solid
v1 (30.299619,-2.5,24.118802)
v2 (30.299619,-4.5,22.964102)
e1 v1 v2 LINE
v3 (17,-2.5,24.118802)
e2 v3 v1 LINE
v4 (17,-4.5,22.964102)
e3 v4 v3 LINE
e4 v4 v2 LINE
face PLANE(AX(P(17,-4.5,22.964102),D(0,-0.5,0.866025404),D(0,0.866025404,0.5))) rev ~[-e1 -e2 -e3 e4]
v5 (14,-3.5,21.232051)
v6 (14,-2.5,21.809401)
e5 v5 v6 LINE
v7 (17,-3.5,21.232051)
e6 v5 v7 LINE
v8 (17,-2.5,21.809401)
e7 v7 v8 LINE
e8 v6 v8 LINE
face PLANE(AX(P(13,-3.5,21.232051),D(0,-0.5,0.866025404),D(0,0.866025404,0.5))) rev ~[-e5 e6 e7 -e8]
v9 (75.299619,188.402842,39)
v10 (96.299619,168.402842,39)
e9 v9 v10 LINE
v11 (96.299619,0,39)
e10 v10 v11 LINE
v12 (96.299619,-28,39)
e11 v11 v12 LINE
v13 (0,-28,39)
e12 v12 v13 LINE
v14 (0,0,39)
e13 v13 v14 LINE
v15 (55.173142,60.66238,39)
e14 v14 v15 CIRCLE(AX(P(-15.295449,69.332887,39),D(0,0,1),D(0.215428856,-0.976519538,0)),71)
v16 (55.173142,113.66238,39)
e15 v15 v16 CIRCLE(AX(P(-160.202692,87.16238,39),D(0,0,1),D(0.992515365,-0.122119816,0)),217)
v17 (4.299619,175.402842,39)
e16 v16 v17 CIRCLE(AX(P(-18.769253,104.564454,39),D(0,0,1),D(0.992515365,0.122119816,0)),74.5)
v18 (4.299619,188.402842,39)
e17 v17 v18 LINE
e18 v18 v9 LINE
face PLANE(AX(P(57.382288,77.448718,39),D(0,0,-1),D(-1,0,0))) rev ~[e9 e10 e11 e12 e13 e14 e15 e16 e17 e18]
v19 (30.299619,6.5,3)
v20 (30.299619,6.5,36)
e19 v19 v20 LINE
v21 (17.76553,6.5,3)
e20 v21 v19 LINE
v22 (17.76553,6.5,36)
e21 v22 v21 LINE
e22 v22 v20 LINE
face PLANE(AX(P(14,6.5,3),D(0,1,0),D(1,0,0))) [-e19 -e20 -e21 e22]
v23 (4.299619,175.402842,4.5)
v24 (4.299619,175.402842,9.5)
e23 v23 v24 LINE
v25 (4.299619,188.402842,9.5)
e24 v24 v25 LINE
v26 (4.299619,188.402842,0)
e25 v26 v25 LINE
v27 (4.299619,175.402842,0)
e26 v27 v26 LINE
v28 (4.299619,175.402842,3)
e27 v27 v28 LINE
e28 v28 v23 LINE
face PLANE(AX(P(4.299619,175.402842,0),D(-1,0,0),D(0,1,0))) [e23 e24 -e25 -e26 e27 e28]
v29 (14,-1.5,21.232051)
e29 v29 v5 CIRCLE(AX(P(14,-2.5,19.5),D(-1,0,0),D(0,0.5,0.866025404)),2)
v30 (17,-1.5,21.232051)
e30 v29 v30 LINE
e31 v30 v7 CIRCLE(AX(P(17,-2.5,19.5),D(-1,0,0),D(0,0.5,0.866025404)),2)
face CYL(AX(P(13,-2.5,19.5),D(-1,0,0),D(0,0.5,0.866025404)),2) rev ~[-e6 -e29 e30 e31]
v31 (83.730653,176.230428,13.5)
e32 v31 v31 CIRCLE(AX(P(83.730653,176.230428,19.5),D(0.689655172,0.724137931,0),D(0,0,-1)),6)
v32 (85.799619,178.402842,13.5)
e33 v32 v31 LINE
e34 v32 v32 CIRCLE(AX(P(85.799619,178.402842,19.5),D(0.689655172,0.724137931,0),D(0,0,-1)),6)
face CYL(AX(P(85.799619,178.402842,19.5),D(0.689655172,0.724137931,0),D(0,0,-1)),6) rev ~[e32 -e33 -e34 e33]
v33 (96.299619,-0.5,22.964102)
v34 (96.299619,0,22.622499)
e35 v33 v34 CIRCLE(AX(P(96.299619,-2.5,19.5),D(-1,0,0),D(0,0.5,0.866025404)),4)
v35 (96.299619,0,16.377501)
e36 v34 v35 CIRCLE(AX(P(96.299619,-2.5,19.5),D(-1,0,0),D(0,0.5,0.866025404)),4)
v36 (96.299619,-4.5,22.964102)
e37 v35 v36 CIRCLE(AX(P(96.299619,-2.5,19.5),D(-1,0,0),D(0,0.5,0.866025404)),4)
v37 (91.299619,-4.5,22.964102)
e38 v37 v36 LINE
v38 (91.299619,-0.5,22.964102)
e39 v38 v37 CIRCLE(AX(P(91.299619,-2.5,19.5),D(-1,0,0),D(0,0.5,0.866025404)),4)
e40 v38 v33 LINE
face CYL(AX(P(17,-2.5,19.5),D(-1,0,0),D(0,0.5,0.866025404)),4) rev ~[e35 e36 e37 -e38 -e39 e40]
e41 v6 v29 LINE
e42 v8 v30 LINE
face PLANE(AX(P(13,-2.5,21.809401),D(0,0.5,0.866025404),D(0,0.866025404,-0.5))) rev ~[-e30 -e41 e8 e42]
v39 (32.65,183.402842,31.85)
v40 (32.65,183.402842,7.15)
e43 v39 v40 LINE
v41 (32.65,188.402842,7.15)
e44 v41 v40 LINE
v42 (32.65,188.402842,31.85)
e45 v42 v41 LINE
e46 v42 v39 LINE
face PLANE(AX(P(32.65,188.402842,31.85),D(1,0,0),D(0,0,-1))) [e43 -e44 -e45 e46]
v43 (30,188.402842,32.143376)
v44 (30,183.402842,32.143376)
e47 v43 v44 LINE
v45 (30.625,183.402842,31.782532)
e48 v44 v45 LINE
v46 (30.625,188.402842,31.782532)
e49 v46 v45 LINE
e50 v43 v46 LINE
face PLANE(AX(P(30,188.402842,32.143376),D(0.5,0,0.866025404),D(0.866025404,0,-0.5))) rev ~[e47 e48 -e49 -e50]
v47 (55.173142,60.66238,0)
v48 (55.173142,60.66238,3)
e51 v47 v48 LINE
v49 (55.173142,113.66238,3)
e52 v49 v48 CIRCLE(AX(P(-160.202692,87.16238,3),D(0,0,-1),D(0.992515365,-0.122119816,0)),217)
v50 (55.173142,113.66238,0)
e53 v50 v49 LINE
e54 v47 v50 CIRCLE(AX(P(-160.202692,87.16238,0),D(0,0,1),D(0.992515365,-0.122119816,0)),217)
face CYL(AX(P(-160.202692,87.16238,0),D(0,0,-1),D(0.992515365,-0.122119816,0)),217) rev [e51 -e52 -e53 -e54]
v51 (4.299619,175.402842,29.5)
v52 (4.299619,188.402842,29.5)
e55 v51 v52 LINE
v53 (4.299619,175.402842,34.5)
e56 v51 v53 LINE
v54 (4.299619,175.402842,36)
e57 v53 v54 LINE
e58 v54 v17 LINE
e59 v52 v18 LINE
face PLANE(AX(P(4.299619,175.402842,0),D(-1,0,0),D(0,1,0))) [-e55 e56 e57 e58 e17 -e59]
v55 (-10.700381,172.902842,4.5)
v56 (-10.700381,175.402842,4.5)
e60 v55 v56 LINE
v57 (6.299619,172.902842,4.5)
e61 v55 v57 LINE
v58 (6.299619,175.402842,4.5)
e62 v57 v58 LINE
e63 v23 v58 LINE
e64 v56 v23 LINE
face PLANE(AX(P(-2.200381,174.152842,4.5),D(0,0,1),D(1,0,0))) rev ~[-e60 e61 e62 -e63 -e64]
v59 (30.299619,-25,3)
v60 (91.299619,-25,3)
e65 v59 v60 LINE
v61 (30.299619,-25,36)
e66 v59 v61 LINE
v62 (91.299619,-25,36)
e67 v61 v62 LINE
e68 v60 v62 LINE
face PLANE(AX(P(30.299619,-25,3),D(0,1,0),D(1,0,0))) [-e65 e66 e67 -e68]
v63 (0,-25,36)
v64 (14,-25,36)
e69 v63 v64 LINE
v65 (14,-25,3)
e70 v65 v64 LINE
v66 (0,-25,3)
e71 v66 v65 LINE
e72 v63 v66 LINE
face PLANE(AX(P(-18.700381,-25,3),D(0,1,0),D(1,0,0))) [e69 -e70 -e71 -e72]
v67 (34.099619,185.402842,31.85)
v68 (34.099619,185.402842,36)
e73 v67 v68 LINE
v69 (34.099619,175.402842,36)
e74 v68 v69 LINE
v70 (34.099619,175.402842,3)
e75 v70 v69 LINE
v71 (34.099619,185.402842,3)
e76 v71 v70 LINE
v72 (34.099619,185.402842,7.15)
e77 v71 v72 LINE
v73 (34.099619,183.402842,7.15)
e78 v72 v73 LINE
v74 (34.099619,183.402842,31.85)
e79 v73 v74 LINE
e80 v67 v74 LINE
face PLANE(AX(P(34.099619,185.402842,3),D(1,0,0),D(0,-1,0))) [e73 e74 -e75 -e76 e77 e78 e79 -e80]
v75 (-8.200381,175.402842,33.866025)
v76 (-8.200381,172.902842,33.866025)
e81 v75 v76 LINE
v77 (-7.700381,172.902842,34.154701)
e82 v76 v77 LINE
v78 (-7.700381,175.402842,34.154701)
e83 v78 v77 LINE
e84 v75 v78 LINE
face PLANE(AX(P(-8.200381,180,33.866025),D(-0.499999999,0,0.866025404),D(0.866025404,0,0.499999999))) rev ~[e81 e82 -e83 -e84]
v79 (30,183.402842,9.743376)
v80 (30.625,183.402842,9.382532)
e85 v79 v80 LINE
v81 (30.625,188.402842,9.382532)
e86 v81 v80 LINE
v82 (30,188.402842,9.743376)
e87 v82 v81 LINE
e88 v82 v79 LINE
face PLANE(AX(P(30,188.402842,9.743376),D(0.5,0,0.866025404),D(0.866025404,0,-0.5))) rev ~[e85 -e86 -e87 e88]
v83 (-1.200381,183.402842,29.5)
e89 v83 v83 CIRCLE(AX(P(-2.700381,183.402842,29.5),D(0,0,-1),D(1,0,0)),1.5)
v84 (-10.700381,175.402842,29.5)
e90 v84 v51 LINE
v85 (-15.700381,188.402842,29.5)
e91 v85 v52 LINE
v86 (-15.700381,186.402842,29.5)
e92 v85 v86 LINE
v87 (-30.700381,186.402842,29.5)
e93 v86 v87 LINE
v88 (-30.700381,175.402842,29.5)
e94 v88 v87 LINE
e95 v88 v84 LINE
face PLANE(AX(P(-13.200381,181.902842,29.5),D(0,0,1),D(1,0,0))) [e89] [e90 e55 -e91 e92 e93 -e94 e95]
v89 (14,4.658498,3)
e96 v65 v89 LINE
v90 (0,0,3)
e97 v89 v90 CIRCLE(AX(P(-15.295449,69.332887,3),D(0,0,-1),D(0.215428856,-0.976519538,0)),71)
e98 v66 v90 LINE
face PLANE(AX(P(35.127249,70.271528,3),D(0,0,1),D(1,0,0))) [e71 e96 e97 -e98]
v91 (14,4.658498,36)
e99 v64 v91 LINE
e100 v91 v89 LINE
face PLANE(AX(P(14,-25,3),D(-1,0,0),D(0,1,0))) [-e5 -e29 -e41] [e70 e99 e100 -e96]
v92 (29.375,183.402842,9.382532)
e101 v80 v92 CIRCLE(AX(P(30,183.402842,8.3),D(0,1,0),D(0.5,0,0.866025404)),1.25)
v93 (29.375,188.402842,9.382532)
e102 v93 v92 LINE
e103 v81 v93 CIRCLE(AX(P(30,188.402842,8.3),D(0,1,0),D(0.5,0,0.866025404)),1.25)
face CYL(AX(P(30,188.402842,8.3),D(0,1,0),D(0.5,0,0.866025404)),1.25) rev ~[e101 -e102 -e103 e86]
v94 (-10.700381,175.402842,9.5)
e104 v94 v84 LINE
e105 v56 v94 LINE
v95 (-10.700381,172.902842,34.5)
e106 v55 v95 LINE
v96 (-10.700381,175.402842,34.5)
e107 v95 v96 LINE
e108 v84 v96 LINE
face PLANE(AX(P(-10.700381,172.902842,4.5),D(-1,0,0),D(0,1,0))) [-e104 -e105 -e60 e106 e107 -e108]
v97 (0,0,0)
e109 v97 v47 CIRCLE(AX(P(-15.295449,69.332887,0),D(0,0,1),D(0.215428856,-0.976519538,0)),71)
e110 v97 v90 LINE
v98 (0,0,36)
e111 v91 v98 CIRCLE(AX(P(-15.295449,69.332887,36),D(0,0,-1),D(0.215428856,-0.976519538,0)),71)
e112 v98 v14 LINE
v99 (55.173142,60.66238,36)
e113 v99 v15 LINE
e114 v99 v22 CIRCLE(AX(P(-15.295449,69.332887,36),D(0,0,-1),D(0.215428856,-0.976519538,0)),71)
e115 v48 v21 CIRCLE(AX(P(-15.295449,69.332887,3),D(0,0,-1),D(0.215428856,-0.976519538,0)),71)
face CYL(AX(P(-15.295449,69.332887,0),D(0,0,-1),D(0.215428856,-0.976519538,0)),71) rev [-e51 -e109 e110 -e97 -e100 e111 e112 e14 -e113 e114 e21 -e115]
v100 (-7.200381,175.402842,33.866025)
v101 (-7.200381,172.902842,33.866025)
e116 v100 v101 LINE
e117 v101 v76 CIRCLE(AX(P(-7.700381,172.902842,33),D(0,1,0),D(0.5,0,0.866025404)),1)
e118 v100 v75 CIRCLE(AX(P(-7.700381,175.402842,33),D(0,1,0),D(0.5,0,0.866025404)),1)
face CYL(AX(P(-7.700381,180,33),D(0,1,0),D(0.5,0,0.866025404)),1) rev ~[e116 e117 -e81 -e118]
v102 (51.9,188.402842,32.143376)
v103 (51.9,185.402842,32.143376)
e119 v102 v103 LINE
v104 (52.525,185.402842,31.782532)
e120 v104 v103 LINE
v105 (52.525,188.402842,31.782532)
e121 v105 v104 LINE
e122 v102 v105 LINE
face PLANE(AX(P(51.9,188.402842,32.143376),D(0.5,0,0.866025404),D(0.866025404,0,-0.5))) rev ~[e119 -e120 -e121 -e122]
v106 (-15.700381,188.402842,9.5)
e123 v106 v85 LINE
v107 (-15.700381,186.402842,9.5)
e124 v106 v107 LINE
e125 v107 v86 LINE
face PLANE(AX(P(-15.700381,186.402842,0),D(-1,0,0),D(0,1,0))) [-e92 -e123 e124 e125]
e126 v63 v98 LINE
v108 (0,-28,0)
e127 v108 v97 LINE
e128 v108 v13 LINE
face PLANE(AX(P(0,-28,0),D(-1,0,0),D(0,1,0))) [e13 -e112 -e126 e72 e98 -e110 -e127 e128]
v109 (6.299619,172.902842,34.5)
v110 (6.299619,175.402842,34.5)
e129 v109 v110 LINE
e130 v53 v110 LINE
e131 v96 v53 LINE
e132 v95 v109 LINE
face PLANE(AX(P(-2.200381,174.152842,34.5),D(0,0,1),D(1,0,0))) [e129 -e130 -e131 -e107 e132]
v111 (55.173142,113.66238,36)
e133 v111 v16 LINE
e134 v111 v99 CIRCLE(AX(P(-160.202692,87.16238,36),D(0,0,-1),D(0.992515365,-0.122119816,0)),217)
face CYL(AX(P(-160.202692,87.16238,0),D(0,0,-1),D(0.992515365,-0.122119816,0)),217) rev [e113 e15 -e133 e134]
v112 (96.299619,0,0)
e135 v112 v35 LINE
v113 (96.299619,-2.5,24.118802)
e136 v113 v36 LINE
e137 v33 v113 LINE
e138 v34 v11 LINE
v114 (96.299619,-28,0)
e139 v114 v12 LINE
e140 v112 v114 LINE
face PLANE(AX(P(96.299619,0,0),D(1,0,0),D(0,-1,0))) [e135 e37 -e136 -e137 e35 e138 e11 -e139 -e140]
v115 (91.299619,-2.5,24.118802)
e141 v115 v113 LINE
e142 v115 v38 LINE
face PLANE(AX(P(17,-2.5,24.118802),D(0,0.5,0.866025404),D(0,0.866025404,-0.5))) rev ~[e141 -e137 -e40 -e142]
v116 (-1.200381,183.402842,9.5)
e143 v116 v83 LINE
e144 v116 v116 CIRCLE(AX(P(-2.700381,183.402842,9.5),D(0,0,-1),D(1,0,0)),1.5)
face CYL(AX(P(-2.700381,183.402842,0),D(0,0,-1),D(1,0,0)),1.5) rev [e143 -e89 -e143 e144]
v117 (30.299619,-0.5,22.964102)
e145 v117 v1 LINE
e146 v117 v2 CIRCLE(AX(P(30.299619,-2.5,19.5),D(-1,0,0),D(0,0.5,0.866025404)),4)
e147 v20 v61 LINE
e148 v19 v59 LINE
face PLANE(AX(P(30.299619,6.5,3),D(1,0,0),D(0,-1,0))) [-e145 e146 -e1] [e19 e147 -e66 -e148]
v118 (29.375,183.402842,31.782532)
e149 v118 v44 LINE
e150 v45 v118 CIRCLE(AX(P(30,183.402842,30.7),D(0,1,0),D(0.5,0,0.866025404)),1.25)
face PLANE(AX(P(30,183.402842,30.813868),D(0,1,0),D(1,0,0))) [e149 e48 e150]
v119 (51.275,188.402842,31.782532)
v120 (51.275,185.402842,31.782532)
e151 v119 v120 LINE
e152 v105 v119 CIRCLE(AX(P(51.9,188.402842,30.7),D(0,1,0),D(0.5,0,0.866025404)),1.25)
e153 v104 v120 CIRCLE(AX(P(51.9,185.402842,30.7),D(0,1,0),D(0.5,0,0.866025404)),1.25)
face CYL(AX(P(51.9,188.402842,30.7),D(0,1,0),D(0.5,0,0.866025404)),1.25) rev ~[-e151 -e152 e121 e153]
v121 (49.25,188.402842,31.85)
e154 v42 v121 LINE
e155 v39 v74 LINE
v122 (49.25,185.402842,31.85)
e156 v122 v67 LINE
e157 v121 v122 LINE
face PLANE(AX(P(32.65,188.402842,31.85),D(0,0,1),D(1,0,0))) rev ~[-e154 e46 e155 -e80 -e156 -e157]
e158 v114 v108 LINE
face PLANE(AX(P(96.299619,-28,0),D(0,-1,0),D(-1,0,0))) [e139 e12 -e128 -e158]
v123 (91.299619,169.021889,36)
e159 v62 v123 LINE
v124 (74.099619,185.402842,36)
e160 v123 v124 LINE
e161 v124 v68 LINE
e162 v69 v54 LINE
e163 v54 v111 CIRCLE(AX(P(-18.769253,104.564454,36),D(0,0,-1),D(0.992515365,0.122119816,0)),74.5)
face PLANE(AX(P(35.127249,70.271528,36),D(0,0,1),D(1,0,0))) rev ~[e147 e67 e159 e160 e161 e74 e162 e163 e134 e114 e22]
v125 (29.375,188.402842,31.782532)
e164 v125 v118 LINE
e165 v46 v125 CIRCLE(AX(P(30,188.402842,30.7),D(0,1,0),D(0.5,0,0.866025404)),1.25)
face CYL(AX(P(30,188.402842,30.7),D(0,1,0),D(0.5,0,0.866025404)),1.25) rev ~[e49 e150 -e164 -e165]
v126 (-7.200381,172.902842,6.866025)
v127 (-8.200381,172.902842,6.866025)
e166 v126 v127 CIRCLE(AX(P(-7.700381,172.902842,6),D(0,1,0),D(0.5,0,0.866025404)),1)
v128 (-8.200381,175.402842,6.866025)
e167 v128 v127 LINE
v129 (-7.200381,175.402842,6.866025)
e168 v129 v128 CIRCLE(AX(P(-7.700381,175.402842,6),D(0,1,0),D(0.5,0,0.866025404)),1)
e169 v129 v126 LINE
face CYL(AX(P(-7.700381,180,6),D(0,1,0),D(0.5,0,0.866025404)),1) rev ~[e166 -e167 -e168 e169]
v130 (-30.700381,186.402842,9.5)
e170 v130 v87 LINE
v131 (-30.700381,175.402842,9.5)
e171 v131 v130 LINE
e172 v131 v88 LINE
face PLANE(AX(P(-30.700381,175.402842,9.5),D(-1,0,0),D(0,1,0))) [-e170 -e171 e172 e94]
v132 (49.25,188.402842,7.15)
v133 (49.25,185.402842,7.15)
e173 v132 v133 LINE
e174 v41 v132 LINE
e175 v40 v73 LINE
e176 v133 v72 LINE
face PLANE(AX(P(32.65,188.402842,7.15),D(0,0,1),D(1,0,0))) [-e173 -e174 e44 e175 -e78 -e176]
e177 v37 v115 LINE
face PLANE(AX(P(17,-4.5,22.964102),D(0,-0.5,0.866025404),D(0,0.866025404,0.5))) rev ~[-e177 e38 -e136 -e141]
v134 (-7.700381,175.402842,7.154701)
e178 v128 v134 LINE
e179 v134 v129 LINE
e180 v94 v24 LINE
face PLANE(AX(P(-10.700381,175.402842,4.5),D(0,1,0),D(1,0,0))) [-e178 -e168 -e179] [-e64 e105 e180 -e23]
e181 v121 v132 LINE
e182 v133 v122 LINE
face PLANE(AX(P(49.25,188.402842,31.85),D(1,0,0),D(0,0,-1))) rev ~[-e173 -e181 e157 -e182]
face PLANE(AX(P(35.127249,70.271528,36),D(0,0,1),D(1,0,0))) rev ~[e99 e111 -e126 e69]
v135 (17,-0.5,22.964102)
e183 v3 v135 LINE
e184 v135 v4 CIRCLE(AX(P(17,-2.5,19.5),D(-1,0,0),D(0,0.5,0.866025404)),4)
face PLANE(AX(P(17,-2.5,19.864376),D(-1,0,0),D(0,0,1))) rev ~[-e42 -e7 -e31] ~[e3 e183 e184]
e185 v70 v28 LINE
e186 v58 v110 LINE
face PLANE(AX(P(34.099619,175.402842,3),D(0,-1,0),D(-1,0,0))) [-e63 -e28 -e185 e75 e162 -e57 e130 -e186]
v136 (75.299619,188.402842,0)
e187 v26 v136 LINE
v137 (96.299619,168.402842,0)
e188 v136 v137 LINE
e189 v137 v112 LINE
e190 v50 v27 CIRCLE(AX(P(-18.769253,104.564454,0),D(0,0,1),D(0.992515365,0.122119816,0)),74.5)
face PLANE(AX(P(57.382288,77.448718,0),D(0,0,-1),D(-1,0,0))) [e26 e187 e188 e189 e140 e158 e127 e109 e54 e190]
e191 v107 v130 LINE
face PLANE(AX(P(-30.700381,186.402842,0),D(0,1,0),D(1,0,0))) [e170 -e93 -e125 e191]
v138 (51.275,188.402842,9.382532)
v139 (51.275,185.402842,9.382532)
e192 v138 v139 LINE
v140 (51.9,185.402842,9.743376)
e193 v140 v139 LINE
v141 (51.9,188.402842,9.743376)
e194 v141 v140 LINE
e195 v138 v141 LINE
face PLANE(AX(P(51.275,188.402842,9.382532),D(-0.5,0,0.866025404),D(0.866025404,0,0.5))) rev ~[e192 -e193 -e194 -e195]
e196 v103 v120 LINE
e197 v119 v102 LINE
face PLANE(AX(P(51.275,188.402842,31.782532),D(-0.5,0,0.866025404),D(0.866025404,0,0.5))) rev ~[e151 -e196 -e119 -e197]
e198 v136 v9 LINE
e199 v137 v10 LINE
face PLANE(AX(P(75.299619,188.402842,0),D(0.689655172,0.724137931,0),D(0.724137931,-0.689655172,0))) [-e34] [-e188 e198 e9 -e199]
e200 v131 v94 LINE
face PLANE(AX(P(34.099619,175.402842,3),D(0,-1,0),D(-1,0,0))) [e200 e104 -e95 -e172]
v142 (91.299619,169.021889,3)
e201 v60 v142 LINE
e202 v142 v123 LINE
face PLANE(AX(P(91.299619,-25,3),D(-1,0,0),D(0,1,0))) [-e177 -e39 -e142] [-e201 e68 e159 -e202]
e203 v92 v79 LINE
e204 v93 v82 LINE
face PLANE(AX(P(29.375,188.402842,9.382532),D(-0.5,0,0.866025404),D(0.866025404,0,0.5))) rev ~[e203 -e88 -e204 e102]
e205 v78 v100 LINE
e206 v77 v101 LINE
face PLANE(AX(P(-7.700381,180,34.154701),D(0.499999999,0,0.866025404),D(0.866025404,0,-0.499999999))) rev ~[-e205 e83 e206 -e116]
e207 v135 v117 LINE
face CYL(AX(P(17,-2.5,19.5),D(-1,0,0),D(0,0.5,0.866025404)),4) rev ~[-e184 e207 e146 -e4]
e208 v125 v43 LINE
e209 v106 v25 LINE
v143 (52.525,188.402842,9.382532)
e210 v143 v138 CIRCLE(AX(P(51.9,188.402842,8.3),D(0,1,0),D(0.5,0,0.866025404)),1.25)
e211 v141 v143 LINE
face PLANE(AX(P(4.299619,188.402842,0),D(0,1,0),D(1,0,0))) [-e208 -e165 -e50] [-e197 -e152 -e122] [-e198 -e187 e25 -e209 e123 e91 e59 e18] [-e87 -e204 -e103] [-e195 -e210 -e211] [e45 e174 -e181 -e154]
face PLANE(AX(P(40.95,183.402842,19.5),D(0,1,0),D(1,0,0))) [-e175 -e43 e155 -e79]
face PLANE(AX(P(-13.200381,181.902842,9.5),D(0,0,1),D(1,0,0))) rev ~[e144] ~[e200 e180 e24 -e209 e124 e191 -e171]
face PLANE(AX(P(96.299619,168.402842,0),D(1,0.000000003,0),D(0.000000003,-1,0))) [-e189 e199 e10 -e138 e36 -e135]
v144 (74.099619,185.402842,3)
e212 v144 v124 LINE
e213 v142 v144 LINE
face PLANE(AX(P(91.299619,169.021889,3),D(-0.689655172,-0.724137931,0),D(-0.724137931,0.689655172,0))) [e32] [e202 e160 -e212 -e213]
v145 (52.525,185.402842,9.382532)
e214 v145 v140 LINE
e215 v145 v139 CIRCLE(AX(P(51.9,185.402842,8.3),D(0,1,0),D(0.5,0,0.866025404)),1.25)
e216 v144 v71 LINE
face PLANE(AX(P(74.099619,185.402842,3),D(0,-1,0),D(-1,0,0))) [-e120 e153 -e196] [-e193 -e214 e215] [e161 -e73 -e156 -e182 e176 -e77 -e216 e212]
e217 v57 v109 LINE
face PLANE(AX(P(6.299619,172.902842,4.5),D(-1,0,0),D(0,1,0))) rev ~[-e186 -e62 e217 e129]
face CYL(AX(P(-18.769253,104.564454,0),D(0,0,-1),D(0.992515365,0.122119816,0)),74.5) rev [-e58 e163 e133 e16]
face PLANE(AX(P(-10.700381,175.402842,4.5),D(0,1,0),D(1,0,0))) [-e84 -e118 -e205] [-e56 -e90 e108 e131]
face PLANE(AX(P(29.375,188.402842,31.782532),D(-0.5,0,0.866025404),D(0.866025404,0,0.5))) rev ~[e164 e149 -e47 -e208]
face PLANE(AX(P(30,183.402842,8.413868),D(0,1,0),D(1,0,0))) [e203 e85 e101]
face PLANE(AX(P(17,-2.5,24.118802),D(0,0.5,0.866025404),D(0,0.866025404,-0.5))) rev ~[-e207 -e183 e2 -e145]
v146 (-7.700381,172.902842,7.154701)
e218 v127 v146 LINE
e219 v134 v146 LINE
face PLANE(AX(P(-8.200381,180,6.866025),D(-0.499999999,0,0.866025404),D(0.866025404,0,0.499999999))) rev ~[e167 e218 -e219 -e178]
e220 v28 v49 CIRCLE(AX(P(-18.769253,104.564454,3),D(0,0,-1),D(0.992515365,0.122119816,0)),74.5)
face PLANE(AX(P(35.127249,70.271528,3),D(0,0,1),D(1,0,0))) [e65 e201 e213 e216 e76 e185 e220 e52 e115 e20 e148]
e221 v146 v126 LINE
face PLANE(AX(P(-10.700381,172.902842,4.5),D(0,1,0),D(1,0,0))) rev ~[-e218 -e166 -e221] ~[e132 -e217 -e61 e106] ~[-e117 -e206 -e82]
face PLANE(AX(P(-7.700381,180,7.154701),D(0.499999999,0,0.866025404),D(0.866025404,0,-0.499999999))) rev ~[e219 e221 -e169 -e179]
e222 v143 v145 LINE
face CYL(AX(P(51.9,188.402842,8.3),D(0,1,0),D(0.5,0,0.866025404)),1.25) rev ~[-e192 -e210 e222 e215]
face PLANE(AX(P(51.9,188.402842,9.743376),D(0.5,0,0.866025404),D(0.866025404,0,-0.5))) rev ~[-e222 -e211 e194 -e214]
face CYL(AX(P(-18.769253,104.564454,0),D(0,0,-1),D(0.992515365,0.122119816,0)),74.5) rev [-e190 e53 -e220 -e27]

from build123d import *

# Parameters (mm, degrees)
EXTRUDE_6_DEPTH      = 39
CUT_EXTRUDE_START    = 3
CUT_EXTRUDE_2_DEPTH  = 33
EXTRUDE_START        = 9.5
SKETCH_7_W           = 35
SKETCH_7_H           = 13
EXTRUDE_7_DEPTH      = 20
EXTRUDE_START_2      = 4.5
SKETCH_11_W          = 17
SKETCH_11_H          = 2.5
EXTRUDE_15_DEPTH     = 30
CUT_EXTRUDE_START_2  = 180
CUT_EXTRUDE_3_DEPTH  = 10
SKETCH_13_R          = 1.5
CUT_EXTRUDE_4_DEPTH  = 30
SKETCH_14_W          = 15
SKETCH_14_H          = 2
CUT_EXTRUDE_5_DEPTH  = 30
CUT_EXTRUDE_START_3  = 17
CUT_EXTRUDE_7_DEPTH  = 85
CUT_EXTRUDE_START_4  = 13
CUT_EXTRUDE_9_DEPTH  = 5
SKETCH_20_W          = 16.6
SKETCH_20_H          = 24.7
CUT_EXTRUDE_10_DEPTH = 5
SKETCH_21_R          = 6
CUT_EXTRUDE_11_DEPTH = 5


with BuildPart() as part:
    # Эскиз1 → Бобышка-Вытянуть6 (new body)
    with BuildSketch(Plane.XY):
        with BuildLine():
            Line((4.299618531, 175.402841826), (4.299618531, 188.402841826))
            Line((4.299618531, 188.402841826), (75.299618531, 188.402841826))
            Line((75.299618531, 188.402841826), (96.299618531, 168.402841826))
            Line((96.299618531, 168.402841826), (96.299619, 0))
            Line((96.299619, 0), (96.299619, -28))
            Line((96.299619, -28), (0, -28))
            Line((0, -28), (0, 0))
            ThreePointArc((0, 0), (37.229295141, 21.561020186), (55.173142182, 60.662380285))
            ThreePointArc((55.173142182, 60.662380285), (56.797307883, 87.162380285), (55.173142182, 113.662380285))
            ThreePointArc((55.173142182, 113.662380285), (38.726552267, 151.940422917), (4.299618531, 175.402841826))
        make_face()
    extrude(amount=EXTRUDE_6_DEPTH)

    # Эскиз5 → Вырез-Вытянуть2 (cut)
    with BuildSketch(Plane.XY.offset(CUT_EXTRUDE_START)):
        Polygon((34.099618531, 175.402841826), (4.299618531, 175.402841826), (4.299618531, 169.021888999), (-18.700381469, 169.021888999), (-18.700381469, -25), (14, -25), (14, 6.5), (30.299619, 6.5), (30.299619, -25), (91.299619, -25), (91.299619, 169.021888999), (74.099618531, 185.402841826), (34.099618531, 185.402841826), align=None)
    extrude(amount=CUT_EXTRUDE_2_DEPTH, mode=Mode.SUBTRACT)

    # Эскиз7 → Бобышка-Вытянуть7 (add)
    with BuildSketch(Plane.XY.offset(EXTRUDE_START)):
        with Locations((-13.200381469, 181.902841826)):
            Rectangle(SKETCH_7_W, SKETCH_7_H)
    extrude(amount=EXTRUDE_7_DEPTH)

    # Эскиз11 → Бобышка-Вытянуть15 (add)
    with BuildSketch(Plane.XY.offset(EXTRUDE_START_2)):
        with Locations((-2.200381469, 174.152841826)):
            Rectangle(SKETCH_11_W, SKETCH_11_H)
    extrude(amount=EXTRUDE_15_DEPTH)

    # Эскиз12 → Вырез-Вытянуть3 (cut)
    with BuildSketch(Plane(origin=(0, 0, 0), x_dir=(1, 0, 0), z_dir=(0, 1, 0)).offset(CUT_EXTRUDE_START_2)):
        with BuildLine():
            Line((-7.700381469, -34.154700538), (-7.200381469, -33.866025404))
            ThreePointArc((-7.200381469, -33.866025404), (-7.700381469, -32), (-8.200381469, -33.866025404))
            Line((-8.200381469, -33.866025404), (-7.700381469, -34.154700538))
        make_face()
        with BuildLine():
            Line((-7.700381469, -7.154700538), (-7.200381469, -6.866025404))
            ThreePointArc((-7.200381469, -6.866025404), (-7.700381469, -5), (-8.200381469, -6.866025404))
            Line((-8.200381469, -6.866025404), (-7.700381469, -7.154700538))
        make_face()
    extrude(amount=-CUT_EXTRUDE_3_DEPTH, mode=Mode.SUBTRACT)

    # Эскиз13 → Вырез-Вытянуть4 (cut)
    with BuildSketch(Plane.XY):
        with Locations((-2.700381469, 183.402841826)):
            Circle(SKETCH_13_R)
    extrude(amount=CUT_EXTRUDE_4_DEPTH, mode=Mode.SUBTRACT)

    # Эскиз14 → Вырез-Вытянуть5 (cut)
    with BuildSketch(Plane.XY):
        with Locations((-23.200381469, 187.402841826)):
            Rectangle(SKETCH_14_W, SKETCH_14_H)
    extrude(amount=CUT_EXTRUDE_5_DEPTH, mode=Mode.SUBTRACT)

    # Эскиз17 → Вырез-Вытянуть7 (cut)
    with BuildSketch(Plane(origin=(0, 0, 0), x_dir=(0, 0, -1), z_dir=(1, 0, 0)).offset(CUT_EXTRUDE_START_3)):
        with BuildLine():
            Line((-24.118802154, -2.5), (-22.964101615, -0.5))
            ThreePointArc((-22.964101615, -0.5), (-15.5, -2.5), (-22.964101615, -4.5))
            Line((-22.964101615, -4.5), (-24.118802154, -2.5))
        make_face()
    extrude(amount=CUT_EXTRUDE_7_DEPTH, mode=Mode.SUBTRACT)

    # Эскиз18 → Вырез-Вытянуть9 (cut)
    with BuildSketch(Plane(origin=(0, 0, 0), x_dir=(0, 0, -1), z_dir=(1, 0, 0)).offset(CUT_EXTRUDE_START_4)):
        with BuildLine():
            Line((-21.809401077, -2.5), (-21.232050808, -1.5))
            ThreePointArc((-21.232050808, -1.5), (-17.5, -2.5), (-21.232050808, -3.5))
            Line((-21.232050808, -3.5), (-21.809401077, -2.5))
        make_face()
    extrude(amount=CUT_EXTRUDE_9_DEPTH, mode=Mode.SUBTRACT)

    # Эскиз20 → Вырез-Вытянуть10 (cut)
    with BuildSketch(Plane(origin=(0, 188.402841826, 0), x_dir=(1, 0, 0), z_dir=(0, 1, 0))):
        with Locations((40.95, -19.5)):
            Rectangle(SKETCH_20_W, SKETCH_20_H)
        with BuildLine():
            Line((30, -32.143375673), (30.625, -31.782531755))
            ThreePointArc((30.625, -31.782531755), (30, -29.45), (29.375, -31.782531755))
            Line((29.375, -31.782531755), (30, -32.143375673))
        make_face()
        with BuildLine():
            Line((30, -9.743375673), (30.625, -9.382531755))
            ThreePointArc((30.625, -9.382531755), (30, -7.05), (29.375, -9.382531755))
            Line((29.375, -9.382531755), (30, -9.743375673))
        make_face()
        with BuildLine():
            Line((51.9, -9.743375673), (52.525, -9.382531755))
            ThreePointArc((52.525, -9.382531755), (51.9, -7.05), (51.275, -9.382531755))
            Line((51.275, -9.382531755), (51.9, -9.743375673))
        make_face()
        with BuildLine():
            Line((51.9, -32.143375673), (52.525, -31.782531755))
            ThreePointArc((52.525, -31.782531755), (51.9, -29.45), (51.275, -31.782531755))
            Line((51.275, -31.782531755), (51.9, -32.143375673))
        make_face()
    extrude(amount=-CUT_EXTRUDE_10_DEPTH, mode=Mode.SUBTRACT)

    # Эскиз21 → Вырез-Вытянуть11 (cut)
    with BuildSketch(Plane(origin=(129.903734815, 136.398921556, 0), x_dir=(0, 0, -1), z_dir=(0.689655172, 0.724137931, 0))):
        with Locations((-19.5, 60.905684392)):
            Circle(SKETCH_21_R)
    extrude(amount=-CUT_EXTRUDE_11_DEPTH, mode=Mode.SUBTRACT)


solid = part.part
